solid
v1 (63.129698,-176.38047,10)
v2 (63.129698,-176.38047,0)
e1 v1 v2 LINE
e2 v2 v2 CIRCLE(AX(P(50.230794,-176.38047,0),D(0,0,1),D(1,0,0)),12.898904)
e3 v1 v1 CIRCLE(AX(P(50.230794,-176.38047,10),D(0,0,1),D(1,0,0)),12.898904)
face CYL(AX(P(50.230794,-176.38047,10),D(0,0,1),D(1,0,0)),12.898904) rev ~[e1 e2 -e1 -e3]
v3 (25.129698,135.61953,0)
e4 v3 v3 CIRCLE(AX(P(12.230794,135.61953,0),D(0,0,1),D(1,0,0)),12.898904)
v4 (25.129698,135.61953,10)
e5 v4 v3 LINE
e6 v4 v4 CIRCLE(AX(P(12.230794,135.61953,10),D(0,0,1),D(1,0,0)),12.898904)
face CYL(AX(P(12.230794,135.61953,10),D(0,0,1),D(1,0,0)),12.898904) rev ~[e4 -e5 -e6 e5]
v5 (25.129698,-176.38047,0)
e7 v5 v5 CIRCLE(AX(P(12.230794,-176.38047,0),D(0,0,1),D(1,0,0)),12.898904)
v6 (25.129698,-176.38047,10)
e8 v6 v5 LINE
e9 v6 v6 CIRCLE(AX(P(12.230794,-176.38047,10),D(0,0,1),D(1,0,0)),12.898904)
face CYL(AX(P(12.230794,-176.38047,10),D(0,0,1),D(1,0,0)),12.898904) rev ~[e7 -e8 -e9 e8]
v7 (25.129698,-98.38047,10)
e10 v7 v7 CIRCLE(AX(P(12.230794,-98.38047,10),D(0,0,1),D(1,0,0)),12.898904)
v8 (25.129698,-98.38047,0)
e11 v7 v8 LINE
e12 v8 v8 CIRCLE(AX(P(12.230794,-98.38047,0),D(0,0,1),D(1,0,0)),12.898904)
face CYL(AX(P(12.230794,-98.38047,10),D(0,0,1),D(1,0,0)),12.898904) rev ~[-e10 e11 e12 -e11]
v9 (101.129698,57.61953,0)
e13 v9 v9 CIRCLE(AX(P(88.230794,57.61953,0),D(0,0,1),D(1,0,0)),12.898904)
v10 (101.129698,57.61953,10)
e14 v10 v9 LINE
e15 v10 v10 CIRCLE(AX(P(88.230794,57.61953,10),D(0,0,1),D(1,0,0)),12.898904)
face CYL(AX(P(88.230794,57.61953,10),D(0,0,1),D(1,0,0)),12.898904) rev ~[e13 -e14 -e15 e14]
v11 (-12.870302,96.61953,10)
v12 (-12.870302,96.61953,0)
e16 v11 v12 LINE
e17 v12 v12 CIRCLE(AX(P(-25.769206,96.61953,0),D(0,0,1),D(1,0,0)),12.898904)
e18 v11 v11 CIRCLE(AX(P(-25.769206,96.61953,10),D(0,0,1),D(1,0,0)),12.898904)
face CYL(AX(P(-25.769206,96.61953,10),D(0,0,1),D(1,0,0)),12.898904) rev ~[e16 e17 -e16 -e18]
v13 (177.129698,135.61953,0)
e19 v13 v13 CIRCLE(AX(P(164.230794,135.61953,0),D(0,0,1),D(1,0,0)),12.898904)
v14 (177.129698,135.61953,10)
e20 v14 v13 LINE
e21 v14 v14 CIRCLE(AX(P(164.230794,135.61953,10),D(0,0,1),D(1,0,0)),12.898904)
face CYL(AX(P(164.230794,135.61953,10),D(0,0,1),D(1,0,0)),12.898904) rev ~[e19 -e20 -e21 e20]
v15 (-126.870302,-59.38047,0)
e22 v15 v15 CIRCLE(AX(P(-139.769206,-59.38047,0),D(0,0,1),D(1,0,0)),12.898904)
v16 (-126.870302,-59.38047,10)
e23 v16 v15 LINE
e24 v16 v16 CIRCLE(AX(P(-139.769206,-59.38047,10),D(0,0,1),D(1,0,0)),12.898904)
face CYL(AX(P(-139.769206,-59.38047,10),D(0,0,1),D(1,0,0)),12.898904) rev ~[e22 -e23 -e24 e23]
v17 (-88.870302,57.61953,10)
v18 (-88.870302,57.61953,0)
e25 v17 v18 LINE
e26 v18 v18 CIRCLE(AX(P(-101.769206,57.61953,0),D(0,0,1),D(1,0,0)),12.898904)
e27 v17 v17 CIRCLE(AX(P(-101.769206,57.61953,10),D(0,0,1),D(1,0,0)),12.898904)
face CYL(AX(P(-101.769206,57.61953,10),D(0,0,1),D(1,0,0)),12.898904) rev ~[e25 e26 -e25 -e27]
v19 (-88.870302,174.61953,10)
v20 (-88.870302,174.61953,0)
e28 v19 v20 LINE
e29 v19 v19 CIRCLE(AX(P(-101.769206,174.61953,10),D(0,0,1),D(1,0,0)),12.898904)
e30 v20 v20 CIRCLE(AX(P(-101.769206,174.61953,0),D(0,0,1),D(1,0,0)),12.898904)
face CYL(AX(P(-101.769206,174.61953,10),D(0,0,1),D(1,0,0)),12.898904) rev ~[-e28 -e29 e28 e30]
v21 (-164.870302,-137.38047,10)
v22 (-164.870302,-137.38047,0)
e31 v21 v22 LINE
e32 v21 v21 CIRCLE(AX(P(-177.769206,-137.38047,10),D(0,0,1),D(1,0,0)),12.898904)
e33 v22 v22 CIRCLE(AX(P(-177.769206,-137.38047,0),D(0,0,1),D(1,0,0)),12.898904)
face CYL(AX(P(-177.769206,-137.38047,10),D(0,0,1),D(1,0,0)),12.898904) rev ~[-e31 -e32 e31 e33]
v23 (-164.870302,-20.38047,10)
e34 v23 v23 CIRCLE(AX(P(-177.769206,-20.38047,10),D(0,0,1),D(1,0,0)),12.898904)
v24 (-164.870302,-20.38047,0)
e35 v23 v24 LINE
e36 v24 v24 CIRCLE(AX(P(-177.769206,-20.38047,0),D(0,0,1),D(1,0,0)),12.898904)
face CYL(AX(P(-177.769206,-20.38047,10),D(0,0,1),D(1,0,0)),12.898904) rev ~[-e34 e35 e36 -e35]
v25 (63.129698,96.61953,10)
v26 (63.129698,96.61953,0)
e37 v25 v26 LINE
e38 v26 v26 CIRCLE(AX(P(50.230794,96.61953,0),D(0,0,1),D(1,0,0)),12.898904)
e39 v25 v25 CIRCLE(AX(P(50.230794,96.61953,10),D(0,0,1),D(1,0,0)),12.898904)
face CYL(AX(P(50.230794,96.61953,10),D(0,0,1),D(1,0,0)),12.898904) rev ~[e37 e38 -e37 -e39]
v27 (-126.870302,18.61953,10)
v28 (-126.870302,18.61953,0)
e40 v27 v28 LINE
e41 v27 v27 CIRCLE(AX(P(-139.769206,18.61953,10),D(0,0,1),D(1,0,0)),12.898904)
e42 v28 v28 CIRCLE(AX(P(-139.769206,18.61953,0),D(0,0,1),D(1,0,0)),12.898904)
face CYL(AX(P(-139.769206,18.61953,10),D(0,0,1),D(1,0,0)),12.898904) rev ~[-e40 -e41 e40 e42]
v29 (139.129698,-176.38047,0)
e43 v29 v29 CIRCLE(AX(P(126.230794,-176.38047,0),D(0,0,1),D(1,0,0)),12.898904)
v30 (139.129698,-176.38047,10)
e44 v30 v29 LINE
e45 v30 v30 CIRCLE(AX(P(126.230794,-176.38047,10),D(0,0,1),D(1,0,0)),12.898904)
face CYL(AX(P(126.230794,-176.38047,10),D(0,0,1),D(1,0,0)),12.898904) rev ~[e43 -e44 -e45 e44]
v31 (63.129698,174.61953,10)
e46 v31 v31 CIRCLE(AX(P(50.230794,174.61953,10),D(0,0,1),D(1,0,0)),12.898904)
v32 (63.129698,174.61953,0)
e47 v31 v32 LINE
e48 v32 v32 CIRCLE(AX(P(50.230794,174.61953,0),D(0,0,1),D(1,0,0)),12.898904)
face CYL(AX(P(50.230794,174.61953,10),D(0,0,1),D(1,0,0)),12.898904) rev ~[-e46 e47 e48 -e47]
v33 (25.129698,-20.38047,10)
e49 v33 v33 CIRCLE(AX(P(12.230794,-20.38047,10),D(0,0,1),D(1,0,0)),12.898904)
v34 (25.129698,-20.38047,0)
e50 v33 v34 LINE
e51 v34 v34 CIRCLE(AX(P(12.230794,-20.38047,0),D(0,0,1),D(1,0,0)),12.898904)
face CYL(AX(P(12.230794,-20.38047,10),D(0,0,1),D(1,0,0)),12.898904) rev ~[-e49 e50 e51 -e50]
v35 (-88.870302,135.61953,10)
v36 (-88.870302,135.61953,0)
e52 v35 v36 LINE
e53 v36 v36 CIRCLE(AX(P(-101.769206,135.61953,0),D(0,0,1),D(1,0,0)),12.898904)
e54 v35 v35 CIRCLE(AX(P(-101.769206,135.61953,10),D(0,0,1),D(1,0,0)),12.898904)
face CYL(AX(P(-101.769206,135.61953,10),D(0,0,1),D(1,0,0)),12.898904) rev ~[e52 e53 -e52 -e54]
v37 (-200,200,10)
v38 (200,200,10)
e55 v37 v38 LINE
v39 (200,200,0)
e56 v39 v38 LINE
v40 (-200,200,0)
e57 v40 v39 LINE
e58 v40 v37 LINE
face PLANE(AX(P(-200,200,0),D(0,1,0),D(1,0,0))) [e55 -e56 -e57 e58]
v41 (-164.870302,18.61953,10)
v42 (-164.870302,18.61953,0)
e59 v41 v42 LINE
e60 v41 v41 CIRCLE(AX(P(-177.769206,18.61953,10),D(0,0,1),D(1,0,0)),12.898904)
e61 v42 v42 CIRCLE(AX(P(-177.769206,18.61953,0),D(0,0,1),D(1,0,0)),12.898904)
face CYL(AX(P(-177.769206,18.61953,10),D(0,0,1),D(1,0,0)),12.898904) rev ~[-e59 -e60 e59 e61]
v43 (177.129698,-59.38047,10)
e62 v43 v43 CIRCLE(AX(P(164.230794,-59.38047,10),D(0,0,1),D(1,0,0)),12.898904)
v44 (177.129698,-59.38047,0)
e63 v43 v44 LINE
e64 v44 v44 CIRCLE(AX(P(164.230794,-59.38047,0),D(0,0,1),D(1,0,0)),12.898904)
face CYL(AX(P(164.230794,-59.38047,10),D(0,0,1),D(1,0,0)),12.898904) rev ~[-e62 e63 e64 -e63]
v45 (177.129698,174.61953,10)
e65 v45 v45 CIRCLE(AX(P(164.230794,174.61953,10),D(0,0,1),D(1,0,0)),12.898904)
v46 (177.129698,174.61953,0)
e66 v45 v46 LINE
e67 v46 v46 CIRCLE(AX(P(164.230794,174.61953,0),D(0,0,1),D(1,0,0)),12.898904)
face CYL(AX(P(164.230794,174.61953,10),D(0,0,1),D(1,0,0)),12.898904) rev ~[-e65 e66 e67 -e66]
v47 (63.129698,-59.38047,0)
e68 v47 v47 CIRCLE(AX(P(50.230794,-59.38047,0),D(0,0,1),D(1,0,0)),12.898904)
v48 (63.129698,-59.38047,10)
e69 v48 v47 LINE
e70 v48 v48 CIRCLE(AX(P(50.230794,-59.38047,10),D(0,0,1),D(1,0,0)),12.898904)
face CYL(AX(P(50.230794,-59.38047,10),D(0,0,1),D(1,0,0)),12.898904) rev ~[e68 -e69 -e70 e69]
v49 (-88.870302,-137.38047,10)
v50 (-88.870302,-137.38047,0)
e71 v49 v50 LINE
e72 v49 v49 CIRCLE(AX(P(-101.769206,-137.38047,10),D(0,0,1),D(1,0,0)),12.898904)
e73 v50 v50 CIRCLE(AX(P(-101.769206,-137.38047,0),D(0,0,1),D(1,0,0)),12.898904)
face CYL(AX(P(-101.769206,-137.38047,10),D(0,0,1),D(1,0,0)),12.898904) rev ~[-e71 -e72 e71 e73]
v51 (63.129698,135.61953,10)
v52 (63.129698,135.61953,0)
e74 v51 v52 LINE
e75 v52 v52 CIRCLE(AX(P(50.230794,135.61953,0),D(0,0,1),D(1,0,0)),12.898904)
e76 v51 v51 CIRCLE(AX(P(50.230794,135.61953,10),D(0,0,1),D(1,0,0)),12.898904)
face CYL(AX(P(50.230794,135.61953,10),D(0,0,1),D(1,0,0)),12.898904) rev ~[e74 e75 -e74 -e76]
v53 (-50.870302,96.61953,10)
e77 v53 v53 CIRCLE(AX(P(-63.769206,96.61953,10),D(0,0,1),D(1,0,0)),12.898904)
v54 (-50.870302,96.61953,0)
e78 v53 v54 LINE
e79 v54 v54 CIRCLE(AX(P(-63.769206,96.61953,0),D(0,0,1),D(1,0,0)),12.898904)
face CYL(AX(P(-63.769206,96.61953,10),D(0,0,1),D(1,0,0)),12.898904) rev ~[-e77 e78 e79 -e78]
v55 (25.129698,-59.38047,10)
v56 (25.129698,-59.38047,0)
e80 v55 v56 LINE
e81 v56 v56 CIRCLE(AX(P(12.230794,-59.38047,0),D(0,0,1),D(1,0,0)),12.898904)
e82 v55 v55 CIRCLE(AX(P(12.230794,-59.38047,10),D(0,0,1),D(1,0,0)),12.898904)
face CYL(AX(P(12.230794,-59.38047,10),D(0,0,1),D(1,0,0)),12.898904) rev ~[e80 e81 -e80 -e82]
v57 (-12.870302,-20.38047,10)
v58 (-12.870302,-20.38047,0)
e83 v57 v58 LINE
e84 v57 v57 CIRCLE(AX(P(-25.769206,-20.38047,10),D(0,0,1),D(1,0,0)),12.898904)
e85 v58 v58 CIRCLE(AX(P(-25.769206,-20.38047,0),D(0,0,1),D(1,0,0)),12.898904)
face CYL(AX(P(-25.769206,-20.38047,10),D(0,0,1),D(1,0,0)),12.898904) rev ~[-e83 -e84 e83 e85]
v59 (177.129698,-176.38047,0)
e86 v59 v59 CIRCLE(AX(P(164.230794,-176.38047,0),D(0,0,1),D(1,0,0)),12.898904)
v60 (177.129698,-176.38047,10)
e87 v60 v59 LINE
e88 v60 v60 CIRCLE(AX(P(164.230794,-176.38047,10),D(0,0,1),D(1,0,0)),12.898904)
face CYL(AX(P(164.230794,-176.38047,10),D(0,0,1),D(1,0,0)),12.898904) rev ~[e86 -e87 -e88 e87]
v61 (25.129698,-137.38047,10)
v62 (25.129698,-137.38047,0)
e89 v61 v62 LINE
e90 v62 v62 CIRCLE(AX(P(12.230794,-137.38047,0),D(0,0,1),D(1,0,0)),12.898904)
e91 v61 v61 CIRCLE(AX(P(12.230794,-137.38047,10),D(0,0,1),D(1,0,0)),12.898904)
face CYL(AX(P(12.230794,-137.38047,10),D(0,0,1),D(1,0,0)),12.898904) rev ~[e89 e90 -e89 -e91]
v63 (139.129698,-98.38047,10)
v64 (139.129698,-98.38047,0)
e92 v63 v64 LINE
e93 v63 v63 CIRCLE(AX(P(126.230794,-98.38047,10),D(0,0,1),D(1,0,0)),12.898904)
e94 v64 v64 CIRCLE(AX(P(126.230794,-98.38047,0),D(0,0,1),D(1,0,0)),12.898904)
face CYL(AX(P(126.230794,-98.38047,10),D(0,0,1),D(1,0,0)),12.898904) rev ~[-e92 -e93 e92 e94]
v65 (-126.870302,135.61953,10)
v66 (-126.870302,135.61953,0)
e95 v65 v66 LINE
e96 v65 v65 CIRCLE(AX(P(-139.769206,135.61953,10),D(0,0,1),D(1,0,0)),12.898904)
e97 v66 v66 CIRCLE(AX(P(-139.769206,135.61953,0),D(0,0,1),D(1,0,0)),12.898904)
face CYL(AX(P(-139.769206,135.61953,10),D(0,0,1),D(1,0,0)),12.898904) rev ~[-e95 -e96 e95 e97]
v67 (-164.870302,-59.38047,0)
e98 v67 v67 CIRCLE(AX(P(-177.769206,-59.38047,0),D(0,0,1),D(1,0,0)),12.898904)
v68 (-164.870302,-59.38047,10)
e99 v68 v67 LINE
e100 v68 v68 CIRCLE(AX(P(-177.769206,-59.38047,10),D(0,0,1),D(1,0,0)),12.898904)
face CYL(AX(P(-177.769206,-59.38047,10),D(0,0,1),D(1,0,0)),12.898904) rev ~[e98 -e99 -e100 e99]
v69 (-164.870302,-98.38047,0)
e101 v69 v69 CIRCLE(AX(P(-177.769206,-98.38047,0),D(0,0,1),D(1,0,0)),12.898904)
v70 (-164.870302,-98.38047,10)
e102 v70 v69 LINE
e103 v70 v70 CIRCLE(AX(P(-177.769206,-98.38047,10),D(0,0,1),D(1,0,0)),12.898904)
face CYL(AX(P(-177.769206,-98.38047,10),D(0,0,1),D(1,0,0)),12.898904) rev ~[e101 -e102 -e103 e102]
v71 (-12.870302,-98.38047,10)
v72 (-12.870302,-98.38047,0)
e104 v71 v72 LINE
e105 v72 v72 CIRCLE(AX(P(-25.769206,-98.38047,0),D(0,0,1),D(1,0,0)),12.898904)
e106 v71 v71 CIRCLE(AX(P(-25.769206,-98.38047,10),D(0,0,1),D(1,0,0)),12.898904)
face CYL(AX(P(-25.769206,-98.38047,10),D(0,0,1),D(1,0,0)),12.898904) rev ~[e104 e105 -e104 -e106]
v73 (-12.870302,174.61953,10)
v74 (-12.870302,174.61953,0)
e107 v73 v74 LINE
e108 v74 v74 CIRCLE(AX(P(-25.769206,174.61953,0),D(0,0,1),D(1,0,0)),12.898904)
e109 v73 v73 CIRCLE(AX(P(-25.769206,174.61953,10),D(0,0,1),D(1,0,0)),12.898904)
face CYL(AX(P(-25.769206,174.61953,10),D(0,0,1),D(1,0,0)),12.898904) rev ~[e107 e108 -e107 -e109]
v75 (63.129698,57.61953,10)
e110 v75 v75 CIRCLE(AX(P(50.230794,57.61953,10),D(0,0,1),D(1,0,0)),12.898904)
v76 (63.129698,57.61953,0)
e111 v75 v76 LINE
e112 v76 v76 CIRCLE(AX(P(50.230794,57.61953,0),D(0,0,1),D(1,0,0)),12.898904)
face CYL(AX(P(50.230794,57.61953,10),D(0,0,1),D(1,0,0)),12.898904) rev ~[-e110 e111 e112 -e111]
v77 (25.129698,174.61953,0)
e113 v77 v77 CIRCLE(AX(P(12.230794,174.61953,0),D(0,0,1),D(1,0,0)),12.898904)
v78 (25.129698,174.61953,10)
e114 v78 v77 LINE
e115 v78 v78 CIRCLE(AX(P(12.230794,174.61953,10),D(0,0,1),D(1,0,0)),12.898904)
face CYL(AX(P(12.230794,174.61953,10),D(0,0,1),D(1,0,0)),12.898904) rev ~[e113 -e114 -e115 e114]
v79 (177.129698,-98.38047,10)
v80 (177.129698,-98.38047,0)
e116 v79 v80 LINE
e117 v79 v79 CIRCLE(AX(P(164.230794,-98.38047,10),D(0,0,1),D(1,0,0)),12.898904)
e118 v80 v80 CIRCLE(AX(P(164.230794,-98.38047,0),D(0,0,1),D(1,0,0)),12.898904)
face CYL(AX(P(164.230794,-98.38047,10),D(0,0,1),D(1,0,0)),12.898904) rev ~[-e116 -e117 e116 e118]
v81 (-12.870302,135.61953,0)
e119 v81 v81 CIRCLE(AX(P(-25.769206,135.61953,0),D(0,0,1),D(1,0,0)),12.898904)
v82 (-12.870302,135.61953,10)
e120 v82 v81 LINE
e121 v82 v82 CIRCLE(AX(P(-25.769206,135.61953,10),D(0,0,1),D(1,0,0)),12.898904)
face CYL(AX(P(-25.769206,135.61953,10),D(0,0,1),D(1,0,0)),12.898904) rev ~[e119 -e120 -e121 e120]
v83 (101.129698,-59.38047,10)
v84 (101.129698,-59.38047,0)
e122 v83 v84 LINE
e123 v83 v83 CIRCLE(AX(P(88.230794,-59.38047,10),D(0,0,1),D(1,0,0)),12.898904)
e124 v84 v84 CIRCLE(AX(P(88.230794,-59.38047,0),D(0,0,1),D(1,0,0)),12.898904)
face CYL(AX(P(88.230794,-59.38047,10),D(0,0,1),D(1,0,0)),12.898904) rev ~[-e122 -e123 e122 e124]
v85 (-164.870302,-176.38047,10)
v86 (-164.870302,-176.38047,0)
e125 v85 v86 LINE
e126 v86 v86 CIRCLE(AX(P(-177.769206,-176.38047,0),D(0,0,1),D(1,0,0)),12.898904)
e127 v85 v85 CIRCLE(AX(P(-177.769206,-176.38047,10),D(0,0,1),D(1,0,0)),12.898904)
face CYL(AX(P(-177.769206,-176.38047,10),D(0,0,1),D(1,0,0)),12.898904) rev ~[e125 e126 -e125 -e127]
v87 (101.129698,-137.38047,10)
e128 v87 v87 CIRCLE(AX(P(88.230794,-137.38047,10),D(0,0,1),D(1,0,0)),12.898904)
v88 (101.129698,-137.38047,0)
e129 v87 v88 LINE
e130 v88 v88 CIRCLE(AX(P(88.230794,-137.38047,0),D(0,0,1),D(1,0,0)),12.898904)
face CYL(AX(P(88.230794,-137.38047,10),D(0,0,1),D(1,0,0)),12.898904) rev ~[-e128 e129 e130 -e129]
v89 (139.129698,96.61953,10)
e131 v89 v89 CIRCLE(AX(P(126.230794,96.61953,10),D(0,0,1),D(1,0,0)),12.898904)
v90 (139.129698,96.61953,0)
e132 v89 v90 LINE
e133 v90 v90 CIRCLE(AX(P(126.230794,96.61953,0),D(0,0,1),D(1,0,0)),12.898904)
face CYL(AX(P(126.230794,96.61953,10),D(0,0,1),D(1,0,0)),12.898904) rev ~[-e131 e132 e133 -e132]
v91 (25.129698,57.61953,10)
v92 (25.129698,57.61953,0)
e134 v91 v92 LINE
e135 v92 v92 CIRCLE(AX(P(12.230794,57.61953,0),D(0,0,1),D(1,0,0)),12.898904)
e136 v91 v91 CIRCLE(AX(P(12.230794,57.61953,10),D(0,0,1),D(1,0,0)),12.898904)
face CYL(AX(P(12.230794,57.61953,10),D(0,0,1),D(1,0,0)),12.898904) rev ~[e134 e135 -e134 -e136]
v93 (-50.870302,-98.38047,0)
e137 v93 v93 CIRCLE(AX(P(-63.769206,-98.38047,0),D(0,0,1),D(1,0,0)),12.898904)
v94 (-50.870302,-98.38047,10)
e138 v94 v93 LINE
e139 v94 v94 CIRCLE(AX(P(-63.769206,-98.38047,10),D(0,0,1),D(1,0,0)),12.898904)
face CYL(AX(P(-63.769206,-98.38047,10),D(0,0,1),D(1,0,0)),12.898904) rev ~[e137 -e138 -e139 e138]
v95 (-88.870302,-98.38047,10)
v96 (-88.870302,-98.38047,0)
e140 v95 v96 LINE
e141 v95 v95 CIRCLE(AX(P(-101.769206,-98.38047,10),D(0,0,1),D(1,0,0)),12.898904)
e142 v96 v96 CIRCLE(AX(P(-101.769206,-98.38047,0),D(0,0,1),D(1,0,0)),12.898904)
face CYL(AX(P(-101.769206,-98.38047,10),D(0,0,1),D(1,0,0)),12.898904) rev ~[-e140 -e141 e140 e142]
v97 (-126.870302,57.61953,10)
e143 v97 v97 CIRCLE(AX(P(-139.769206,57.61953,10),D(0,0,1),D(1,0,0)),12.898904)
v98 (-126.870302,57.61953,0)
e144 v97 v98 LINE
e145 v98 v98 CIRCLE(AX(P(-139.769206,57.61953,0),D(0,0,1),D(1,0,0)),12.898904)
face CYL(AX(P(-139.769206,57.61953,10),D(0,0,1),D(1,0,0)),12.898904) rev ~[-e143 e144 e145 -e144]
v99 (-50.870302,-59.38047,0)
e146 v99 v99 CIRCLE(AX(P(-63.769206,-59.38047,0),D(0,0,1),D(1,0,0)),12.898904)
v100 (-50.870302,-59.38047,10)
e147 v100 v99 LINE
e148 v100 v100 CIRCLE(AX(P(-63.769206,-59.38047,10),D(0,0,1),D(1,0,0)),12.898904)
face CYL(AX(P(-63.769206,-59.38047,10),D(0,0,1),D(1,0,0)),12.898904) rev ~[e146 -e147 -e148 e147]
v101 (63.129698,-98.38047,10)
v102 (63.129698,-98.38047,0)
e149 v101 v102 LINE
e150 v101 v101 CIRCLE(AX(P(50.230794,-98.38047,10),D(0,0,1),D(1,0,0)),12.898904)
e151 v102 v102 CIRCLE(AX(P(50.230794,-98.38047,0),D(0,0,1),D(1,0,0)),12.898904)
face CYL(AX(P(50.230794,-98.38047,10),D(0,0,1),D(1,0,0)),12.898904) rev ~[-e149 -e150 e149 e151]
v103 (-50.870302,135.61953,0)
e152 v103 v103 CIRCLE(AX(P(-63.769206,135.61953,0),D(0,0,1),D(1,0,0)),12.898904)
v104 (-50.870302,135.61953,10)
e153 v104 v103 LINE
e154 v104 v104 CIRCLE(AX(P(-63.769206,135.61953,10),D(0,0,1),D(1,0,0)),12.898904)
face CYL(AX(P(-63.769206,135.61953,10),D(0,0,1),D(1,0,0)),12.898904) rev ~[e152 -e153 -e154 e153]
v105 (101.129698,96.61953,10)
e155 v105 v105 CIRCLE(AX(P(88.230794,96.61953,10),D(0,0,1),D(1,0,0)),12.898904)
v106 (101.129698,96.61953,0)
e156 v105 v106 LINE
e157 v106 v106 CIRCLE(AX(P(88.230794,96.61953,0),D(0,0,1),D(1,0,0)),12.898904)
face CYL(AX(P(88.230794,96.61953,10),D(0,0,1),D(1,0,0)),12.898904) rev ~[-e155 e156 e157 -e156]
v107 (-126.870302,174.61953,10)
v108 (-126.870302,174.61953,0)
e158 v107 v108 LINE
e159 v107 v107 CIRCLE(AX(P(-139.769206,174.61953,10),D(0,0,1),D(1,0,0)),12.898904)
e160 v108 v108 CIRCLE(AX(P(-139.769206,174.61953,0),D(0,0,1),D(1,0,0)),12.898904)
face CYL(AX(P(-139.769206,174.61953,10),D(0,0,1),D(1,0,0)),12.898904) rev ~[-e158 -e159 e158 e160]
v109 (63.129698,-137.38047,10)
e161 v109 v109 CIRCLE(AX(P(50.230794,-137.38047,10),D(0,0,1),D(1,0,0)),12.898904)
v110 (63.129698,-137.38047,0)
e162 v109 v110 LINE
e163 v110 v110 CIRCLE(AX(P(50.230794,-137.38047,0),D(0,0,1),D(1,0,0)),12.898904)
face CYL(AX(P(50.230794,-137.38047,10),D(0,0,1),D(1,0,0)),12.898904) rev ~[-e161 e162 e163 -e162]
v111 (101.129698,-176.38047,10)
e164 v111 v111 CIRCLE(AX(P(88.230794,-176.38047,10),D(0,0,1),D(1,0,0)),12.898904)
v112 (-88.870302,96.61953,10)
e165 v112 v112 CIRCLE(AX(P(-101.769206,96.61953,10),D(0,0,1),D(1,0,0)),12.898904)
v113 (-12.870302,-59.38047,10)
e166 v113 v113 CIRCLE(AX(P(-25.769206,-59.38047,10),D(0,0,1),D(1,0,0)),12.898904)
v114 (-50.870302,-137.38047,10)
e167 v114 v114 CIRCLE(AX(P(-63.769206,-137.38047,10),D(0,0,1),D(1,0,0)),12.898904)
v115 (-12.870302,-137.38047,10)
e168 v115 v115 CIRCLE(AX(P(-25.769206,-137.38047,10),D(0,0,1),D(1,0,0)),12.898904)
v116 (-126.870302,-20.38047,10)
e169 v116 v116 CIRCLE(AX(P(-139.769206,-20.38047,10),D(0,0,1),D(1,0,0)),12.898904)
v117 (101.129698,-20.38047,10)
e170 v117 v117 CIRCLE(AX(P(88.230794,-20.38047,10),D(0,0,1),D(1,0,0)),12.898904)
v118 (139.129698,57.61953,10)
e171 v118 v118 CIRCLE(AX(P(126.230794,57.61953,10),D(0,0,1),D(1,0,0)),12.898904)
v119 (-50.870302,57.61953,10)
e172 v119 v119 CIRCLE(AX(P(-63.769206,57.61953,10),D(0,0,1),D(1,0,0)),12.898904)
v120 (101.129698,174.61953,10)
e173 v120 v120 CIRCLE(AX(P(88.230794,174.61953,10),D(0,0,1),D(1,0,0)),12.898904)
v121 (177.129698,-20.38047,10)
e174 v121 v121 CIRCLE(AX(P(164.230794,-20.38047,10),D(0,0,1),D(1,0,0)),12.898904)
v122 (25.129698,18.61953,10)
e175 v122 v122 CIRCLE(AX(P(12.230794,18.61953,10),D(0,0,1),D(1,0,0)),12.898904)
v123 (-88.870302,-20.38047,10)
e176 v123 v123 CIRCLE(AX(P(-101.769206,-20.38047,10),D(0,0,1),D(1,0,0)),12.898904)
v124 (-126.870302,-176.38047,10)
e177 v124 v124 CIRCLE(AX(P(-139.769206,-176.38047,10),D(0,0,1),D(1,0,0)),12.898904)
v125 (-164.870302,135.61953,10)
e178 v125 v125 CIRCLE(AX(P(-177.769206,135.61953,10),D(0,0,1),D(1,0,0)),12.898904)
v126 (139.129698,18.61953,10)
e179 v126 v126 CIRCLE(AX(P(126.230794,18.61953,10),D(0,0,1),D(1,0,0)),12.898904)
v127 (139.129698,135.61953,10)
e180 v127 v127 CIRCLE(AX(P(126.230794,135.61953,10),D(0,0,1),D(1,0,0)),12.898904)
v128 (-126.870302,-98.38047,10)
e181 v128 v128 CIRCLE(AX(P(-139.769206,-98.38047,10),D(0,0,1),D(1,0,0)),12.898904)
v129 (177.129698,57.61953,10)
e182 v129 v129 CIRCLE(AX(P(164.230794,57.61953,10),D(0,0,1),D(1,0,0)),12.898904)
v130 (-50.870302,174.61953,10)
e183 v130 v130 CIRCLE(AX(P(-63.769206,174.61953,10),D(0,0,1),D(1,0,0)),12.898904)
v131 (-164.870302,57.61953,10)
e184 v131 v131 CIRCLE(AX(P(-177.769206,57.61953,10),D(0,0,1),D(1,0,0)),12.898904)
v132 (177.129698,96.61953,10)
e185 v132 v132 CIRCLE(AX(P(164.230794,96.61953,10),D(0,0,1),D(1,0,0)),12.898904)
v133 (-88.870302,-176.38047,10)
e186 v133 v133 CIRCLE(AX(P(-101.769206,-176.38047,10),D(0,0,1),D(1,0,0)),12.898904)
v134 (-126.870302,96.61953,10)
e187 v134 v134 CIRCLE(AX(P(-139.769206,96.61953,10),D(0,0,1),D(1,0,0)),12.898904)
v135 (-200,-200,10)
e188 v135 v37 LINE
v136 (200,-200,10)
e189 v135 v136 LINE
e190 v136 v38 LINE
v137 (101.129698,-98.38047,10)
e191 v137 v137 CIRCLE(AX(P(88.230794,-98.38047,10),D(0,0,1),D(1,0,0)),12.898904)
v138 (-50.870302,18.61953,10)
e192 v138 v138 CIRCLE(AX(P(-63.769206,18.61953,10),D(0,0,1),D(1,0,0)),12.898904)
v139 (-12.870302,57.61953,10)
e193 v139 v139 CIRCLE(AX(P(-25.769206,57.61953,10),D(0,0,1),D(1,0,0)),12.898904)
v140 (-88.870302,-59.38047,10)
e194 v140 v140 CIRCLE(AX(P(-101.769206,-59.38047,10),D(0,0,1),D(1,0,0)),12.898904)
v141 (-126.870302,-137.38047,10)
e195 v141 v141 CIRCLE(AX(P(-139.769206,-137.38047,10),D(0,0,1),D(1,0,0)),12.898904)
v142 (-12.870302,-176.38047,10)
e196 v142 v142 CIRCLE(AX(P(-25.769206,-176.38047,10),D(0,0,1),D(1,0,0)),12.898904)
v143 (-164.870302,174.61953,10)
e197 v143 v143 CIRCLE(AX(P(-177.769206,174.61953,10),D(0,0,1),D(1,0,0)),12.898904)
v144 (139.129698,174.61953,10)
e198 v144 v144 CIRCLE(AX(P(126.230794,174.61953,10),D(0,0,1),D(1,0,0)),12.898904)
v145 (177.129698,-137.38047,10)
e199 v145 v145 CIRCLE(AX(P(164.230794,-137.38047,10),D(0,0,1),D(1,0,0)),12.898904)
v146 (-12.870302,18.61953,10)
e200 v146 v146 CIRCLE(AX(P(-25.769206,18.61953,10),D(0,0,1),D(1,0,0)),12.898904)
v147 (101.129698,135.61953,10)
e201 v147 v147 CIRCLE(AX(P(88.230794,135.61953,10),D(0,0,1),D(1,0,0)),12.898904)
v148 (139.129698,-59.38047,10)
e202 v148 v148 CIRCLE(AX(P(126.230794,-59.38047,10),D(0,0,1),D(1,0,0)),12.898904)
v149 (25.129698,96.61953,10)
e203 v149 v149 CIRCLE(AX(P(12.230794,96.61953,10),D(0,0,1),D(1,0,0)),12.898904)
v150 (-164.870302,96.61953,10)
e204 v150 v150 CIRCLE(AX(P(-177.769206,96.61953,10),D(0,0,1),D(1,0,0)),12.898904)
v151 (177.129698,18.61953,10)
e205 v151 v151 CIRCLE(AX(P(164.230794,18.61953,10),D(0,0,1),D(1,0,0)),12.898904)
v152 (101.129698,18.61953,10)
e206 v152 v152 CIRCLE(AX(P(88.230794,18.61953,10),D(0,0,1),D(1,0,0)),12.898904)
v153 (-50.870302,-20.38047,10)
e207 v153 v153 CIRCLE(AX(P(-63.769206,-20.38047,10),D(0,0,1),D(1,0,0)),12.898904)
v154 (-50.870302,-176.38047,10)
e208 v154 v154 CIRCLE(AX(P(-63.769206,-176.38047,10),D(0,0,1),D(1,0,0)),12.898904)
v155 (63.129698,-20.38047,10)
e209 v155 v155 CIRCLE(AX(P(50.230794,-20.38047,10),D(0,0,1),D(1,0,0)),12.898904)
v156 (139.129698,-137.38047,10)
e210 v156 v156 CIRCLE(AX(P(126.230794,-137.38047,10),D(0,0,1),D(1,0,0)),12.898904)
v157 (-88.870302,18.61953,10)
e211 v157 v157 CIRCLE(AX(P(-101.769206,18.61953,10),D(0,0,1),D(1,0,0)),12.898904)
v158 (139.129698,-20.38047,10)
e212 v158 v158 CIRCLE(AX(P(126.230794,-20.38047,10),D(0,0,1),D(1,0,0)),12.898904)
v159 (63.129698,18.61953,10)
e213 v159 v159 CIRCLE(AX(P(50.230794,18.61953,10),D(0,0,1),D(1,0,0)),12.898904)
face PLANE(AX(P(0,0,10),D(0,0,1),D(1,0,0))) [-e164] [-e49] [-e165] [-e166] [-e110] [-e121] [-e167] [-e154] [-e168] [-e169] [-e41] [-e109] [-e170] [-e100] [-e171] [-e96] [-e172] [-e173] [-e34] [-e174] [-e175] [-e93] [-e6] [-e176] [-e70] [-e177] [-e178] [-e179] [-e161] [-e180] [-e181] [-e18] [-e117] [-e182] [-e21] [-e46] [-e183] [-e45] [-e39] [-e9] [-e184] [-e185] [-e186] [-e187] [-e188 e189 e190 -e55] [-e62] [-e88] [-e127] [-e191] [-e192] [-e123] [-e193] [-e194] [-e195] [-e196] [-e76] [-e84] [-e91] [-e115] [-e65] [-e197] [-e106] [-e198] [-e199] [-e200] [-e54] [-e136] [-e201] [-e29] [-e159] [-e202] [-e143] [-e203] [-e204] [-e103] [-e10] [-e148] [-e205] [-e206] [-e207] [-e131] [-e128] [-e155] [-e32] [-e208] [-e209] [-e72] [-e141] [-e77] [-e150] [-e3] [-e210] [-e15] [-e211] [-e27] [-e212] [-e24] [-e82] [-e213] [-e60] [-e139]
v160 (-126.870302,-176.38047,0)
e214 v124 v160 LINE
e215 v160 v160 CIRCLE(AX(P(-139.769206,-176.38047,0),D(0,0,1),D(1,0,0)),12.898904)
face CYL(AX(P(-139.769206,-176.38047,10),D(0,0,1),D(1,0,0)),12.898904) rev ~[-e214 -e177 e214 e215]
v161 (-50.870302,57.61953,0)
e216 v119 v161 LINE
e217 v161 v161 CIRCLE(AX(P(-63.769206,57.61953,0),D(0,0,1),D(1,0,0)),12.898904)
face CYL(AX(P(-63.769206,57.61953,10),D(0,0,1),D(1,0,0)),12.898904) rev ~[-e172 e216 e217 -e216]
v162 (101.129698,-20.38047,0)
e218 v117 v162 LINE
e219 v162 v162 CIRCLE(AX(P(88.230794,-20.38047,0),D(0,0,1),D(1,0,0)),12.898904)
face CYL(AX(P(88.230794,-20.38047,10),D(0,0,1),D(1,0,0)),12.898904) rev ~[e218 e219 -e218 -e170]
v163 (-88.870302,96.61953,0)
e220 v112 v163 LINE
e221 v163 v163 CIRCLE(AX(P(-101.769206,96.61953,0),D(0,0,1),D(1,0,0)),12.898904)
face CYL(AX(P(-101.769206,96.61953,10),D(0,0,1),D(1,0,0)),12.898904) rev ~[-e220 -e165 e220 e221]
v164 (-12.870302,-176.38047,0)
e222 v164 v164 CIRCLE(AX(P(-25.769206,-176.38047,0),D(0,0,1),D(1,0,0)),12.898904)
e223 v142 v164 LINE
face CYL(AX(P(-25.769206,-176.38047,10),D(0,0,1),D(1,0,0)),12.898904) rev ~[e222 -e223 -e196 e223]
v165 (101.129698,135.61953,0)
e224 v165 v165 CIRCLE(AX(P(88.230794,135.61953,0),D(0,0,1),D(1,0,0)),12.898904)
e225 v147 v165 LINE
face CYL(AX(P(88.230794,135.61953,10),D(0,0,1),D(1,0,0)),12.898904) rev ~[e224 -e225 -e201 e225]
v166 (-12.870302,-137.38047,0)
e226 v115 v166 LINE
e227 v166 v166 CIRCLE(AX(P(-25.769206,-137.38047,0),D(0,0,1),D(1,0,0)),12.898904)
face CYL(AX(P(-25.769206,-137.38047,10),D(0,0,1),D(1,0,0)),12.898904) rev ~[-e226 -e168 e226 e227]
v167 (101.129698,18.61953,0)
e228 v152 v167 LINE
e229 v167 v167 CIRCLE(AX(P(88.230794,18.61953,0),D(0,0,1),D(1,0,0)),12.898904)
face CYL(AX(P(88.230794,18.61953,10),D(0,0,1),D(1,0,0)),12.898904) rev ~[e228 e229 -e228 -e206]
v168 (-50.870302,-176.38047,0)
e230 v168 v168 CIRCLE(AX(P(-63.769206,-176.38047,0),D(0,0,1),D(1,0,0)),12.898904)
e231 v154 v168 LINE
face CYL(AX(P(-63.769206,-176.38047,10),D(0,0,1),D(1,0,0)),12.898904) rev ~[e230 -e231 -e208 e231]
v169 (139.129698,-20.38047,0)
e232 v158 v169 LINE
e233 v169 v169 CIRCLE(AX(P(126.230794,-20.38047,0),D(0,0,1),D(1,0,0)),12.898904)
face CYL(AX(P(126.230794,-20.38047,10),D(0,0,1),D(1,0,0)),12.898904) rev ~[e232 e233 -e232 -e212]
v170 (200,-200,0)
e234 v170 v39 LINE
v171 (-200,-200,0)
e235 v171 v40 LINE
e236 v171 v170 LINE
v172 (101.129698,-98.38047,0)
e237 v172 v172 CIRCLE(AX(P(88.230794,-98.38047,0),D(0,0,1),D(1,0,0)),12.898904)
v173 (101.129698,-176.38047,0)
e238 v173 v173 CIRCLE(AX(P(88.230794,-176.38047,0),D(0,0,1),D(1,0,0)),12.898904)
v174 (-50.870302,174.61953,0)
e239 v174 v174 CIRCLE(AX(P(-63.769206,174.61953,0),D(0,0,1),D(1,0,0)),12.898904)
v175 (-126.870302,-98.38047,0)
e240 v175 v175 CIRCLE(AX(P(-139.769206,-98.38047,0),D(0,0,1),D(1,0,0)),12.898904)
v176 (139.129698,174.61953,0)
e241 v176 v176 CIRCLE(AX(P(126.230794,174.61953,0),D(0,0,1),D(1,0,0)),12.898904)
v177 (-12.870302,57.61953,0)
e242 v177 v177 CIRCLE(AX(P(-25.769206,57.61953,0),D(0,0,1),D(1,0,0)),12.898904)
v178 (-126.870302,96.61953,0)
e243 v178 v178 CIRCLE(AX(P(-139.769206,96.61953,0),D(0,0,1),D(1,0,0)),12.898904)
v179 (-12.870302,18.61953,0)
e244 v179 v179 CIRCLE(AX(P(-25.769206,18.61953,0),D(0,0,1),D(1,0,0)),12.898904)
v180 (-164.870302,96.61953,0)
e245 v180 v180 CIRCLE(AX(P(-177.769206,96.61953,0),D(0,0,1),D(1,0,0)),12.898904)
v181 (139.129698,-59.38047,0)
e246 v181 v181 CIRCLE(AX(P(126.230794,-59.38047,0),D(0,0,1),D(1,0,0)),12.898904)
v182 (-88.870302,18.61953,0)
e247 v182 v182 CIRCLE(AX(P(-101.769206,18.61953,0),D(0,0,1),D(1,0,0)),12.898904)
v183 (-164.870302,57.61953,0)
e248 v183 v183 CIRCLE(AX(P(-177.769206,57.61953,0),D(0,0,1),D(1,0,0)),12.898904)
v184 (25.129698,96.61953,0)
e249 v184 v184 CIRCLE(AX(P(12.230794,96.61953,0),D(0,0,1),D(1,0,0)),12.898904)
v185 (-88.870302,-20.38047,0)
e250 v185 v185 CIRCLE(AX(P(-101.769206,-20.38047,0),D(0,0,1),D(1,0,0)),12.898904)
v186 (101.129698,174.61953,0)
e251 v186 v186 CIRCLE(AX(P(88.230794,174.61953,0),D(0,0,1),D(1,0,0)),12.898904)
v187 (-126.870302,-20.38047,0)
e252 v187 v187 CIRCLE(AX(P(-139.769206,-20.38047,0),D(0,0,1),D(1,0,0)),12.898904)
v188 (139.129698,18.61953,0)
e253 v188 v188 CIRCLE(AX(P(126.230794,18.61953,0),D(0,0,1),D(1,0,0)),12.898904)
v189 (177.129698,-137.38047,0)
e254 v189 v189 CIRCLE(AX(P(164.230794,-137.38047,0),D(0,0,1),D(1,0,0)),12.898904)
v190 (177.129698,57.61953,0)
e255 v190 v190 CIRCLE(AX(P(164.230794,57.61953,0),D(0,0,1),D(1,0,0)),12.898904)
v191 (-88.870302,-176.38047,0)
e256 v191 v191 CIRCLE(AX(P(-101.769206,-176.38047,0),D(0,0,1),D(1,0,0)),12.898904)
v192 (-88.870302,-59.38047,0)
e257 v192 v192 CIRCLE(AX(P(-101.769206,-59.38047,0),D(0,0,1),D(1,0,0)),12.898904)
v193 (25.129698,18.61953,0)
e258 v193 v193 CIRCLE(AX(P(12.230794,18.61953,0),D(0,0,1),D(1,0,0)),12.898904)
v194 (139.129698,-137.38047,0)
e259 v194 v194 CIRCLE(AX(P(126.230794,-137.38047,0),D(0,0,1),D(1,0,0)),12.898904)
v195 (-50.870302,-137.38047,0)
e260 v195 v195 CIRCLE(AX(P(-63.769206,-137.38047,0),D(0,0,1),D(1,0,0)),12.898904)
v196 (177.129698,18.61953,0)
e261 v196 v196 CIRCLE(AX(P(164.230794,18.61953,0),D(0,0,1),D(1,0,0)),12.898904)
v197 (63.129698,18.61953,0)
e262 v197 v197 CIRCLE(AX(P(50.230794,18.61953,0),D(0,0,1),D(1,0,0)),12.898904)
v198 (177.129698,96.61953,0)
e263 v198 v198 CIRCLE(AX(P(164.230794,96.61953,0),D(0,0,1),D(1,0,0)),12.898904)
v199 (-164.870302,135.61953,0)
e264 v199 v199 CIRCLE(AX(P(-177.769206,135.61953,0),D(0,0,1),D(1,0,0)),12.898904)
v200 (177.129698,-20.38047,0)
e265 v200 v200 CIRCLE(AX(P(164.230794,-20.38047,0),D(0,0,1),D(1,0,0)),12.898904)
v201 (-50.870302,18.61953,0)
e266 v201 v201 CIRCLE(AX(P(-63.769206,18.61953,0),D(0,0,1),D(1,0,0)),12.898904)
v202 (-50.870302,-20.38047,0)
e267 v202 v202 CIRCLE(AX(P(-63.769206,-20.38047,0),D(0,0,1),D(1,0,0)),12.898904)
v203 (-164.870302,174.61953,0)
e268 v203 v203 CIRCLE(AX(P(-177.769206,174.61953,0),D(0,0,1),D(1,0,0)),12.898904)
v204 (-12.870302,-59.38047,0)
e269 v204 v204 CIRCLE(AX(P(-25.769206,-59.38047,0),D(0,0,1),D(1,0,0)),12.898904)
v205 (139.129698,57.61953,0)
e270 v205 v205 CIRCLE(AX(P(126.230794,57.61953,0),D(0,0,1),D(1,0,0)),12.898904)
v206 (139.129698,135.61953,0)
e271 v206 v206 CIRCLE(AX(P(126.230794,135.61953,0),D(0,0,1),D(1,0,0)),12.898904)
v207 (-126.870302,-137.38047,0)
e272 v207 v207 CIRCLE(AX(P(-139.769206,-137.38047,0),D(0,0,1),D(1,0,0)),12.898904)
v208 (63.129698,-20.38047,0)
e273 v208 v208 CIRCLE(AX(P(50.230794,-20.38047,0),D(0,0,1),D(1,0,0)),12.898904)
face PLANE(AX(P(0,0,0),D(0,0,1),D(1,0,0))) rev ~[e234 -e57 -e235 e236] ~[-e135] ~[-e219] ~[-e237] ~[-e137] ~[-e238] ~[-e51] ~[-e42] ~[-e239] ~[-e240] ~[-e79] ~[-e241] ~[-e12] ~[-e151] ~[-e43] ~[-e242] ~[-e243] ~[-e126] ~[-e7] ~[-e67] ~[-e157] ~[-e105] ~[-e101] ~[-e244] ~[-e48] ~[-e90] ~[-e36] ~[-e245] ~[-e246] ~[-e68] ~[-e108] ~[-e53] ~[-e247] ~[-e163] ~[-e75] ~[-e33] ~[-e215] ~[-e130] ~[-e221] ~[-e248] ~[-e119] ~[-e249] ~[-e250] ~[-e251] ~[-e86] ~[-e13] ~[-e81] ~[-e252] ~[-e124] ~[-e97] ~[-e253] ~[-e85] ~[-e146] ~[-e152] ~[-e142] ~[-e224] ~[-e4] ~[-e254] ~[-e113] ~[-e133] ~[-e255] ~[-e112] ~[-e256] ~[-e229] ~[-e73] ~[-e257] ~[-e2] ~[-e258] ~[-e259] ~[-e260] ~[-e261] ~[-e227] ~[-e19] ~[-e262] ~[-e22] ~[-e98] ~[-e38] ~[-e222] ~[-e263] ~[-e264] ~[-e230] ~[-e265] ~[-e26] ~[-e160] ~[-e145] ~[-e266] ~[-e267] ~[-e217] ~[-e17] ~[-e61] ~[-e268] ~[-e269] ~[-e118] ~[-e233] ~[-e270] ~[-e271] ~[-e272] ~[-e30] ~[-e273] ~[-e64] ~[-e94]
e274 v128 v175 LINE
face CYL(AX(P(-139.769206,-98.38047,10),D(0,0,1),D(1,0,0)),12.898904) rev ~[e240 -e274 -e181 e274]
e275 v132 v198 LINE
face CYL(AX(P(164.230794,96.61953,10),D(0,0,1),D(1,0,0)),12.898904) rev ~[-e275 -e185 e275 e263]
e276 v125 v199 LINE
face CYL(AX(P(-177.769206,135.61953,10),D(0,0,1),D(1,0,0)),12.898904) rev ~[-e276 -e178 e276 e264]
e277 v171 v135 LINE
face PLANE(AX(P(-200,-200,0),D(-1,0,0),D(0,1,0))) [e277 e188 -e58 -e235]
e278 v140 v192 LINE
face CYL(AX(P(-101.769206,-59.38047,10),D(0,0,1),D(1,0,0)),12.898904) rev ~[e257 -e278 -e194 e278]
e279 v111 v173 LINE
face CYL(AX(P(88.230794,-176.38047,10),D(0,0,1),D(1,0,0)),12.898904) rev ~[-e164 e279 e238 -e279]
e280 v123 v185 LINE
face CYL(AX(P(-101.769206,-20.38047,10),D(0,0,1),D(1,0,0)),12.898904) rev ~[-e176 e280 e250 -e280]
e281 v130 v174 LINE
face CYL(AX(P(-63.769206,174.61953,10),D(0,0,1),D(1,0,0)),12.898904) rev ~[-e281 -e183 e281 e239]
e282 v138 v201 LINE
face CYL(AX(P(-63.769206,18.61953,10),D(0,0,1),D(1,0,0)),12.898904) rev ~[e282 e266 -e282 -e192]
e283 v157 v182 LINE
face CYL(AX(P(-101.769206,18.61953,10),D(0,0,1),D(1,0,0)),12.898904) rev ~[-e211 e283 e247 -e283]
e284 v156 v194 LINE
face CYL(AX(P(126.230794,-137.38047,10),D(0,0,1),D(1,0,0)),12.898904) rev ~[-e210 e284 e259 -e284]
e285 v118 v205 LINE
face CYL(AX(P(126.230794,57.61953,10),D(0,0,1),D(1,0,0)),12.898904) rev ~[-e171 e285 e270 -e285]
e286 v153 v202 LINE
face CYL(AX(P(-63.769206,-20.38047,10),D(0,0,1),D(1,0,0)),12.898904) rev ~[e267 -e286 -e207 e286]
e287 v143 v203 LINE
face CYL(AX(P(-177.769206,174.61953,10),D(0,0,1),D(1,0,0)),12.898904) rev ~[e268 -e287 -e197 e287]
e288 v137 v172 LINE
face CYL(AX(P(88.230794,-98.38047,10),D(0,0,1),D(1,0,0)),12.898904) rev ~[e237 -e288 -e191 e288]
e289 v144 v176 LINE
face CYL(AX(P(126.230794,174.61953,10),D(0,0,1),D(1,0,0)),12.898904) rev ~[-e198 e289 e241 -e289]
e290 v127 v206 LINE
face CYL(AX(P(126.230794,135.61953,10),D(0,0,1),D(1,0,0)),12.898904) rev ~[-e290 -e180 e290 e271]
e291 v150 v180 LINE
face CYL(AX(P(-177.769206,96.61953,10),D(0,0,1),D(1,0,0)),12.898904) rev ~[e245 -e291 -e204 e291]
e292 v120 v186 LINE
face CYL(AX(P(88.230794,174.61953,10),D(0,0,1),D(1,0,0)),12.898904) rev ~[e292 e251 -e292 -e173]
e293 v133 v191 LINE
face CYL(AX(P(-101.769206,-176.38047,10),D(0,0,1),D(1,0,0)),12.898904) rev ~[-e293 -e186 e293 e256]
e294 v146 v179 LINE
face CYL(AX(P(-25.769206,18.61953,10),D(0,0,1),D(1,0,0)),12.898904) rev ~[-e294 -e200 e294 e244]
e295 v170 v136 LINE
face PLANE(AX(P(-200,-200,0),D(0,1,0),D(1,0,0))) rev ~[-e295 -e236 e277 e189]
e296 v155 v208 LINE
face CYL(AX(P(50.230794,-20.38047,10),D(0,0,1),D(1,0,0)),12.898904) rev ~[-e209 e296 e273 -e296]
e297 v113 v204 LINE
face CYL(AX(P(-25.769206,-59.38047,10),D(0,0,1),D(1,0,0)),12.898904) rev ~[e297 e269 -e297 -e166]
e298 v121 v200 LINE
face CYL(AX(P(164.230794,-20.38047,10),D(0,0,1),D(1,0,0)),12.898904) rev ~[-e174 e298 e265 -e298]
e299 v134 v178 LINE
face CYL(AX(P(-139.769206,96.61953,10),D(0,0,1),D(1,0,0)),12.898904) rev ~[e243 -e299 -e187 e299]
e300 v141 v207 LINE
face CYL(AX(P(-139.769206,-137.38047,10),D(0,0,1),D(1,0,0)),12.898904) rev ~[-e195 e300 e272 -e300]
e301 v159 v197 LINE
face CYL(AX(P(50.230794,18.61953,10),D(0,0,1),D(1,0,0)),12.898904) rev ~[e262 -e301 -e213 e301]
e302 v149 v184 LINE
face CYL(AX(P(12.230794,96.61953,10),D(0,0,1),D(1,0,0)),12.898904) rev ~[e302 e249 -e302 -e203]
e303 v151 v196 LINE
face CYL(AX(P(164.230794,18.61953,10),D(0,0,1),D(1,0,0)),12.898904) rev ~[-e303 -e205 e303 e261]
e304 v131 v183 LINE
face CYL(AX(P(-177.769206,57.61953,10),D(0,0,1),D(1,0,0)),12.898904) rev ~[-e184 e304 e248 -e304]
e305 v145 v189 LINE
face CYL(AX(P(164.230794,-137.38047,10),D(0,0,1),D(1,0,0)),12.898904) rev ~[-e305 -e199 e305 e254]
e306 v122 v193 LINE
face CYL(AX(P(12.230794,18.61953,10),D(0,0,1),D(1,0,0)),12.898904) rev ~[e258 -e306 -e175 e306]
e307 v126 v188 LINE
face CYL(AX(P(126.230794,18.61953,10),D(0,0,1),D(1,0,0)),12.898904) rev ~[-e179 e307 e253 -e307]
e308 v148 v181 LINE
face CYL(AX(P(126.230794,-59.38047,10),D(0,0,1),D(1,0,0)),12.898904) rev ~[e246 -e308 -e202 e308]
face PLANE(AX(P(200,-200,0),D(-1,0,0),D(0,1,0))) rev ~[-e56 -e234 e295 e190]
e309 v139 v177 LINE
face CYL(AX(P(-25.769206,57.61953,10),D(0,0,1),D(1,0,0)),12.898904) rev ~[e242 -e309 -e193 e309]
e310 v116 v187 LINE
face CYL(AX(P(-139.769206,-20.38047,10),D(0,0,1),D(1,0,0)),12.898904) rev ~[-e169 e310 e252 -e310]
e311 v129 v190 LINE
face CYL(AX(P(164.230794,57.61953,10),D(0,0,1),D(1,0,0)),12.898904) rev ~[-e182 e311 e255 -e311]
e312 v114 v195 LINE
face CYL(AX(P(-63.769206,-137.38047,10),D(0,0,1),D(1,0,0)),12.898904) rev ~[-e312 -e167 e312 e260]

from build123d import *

# Parameters (mm, degrees)
F0_W     = 400
F0_H     = 400
F1_DEPTH = 10
F2_R     = 12.898904
F3_DEPTH = 13


with BuildPart() as f1:
    # F0 (on Top) → F1 (new body)
    with BuildSketch(Plane.XY):
        Rectangle(F0_W, F0_H)
    extrude(amount=F1_DEPTH)

    # F2 (on face) → F3 (cut)
    with BuildSketch(Plane.XY.offset(10)):
        with Locations((164.230794, -176.38047)):
            Circle(F2_R)
        with Locations((164.230794, -137.38047)):
            Circle(F2_R)
        with Locations((164.230794, -98.38047)):
            Circle(F2_R)
        with Locations((164.230794, -59.38047)):
            Circle(F2_R)
        with Locations((164.230794, -20.38047)):
            Circle(F2_R)
        with Locations((164.230794, 18.61953)):
            Circle(F2_R)
        with Locations((164.230794, 57.61953)):
            Circle(F2_R)
        with Locations((164.230794, 96.61953)):
            Circle(F2_R)
        with Locations((164.230794, 135.61953)):
            Circle(F2_R)
        with Locations((164.230794, 174.61953)):
            Circle(F2_R)
        with Locations((126.230794, -176.38047)):
            Circle(F2_R)
        with Locations((126.230794, -137.38047)):
            Circle(F2_R)
        with Locations((126.230794, -98.38047)):
            Circle(F2_R)
        with Locations((126.230794, -59.38047)):
            Circle(F2_R)
        with Locations((126.230794, -20.38047)):
            Circle(F2_R)
        with Locations((126.230794, 18.61953)):
            Circle(F2_R)
        with Locations((126.230794, 57.61953)):
            Circle(F2_R)
        with Locations((126.230794, 96.61953)):
            Circle(F2_R)
        with Locations((126.230794, 135.61953)):
            Circle(F2_R)
        with Locations((126.230794, 174.61953)):
            Circle(F2_R)
        with Locations((88.230794, -176.38047)):
            Circle(F2_R)
        with Locations((88.230794, -137.38047)):
            Circle(F2_R)
        with Locations((88.230794, -98.38047)):
            Circle(F2_R)
        with Locations((88.230794, -59.38047)):
            Circle(F2_R)
        with Locations((88.230794, -20.38047)):
            Circle(F2_R)
        with Locations((88.230794, 18.61953)):
            Circle(F2_R)
        with Locations((88.230794, 57.61953)):
            Circle(F2_R)
        with Locations((88.230794, 96.61953)):
            Circle(F2_R)
        with Locations((88.230794, 135.61953)):
            Circle(F2_R)
        with Locations((88.230794, 174.61953)):
            Circle(F2_R)
        with Locations((50.230794, -176.38047)):
            Circle(F2_R)
        with Locations((50.230794, -137.38047)):
            Circle(F2_R)
        with Locations((50.230794, -98.38047)):
            Circle(F2_R)
        with Locations((50.230794, -59.38047)):
            Circle(F2_R)
        with Locations((50.230794, -20.38047)):
            Circle(F2_R)
        with Locations((50.230794, 18.61953)):
            Circle(F2_R)
        with Locations((50.230794, 57.61953)):
            Circle(F2_R)
        with Locations((50.230794, 96.61953)):
            Circle(F2_R)
        with Locations((50.230794, 135.61953)):
            Circle(F2_R)
        with Locations((50.230794, 174.61953)):
            Circle(F2_R)
        with Locations((12.230794, -176.38047)):
            Circle(F2_R)
        with Locations((12.230794, -137.38047)):
            Circle(F2_R)
        with Locations((12.230794, -98.38047)):
            Circle(F2_R)
        with Locations((12.230794, -59.38047)):
            Circle(F2_R)
        with Locations((12.230794, -20.38047)):
            Circle(F2_R)
        with Locations((12.230794, 18.61953)):
            Circle(F2_R)
        with Locations((12.230794, 57.61953)):
            Circle(F2_R)
        with Locations((12.230794, 96.61953)):
            Circle(F2_R)
        with Locations((12.230794, 135.61953)):
            Circle(F2_R)
        with Locations((12.230794, 174.61953)):
            Circle(F2_R)
        with Locations((-25.769206, -176.38047)):
            Circle(F2_R)
        with Locations((-25.769206, -137.38047)):
            Circle(F2_R)
        with Locations((-25.769206, -98.38047)):
            Circle(F2_R)
        with Locations((-25.769206, -59.38047)):
            Circle(F2_R)
        with Locations((-25.769206, -20.38047)):
            Circle(F2_R)
        with Locations((-25.769206, 18.61953)):
            Circle(F2_R)
        with Locations((-25.769206, 57.61953)):
            Circle(F2_R)
        with Locations((-25.769206, 96.61953)):
            Circle(F2_R)
        with Locations((-25.769206, 135.61953)):
            Circle(F2_R)
        with Locations((-25.769206, 174.61953)):
            Circle(F2_R)
        with Locations((-63.769206, -176.38047)):
            Circle(F2_R)
        with Locations((-63.769206, -137.38047)):
            Circle(F2_R)
        with Locations((-63.769206, -98.38047)):
            Circle(F2_R)
        with Locations((-63.769206, -59.38047)):
            Circle(F2_R)
        with Locations((-63.769206, -20.38047)):
            Circle(F2_R)
        with Locations((-63.769206, 18.61953)):
            Circle(F2_R)
        with Locations((-63.769206, 57.61953)):
            Circle(F2_R)
        with Locations((-63.769206, 96.61953)):
            Circle(F2_R)
        with Locations((-63.769206, 135.61953)):
            Circle(F2_R)
        with Locations((-63.769206, 174.61953)):
            Circle(F2_R)
        with Locations((-101.769206, -176.38047)):
            Circle(F2_R)
        with Locations((-101.769206, -137.38047)):
            Circle(F2_R)
        with Locations((-101.769206, -98.38047)):
            Circle(F2_R)
        with Locations((-101.769206, -59.38047)):
            Circle(F2_R)
        with Locations((-101.769206, -20.38047)):
            Circle(F2_R)
        with Locations((-101.769206, 18.61953)):
            Circle(F2_R)
        with Locations((-101.769206, 57.61953)):
            Circle(F2_R)
        with Locations((-101.769206, 96.61953)):
            Circle(F2_R)
        with Locations((-101.769206, 135.61953)):
            Circle(F2_R)
        with Locations((-101.769206, 174.61953)):
            Circle(F2_R)
        with Locations((-139.769206, -176.38047)):
            Circle(F2_R)
        with Locations((-139.769206, -137.38047)):
            Circle(F2_R)
        with Locations((-139.769206, -98.38047)):
            Circle(F2_R)
        with Locations((-139.769206, -59.38047)):
            Circle(F2_R)
        with Locations((-139.769206, -20.38047)):
            Circle(F2_R)
        with Locations((-139.769206, 18.61953)):
            Circle(F2_R)
        with Locations((-139.769206, 57.61953)):
            Circle(F2_R)
        with Locations((-139.769206, 96.61953)):
            Circle(F2_R)
        with Locations((-139.769206, 135.61953)):
            Circle(F2_R)
        with Locations((-139.769206, 174.61953)):
            Circle(F2_R)
        with Locations((-177.769206, -176.38047)):
            Circle(F2_R)
        with Locations((-177.769206, -137.38047)):
            Circle(F2_R)
        with Locations((-177.769206, -98.38047)):
            Circle(F2_R)
        with Locations((-177.769206, -59.38047)):
            Circle(F2_R)
        with Locations((-177.769206, -20.38047)):
            Circle(F2_R)
        with Locations((-177.769206, 18.61953)):
            Circle(F2_R)
        with Locations((-177.769206, 57.61953)):
            Circle(F2_R)
        with Locations((-177.769206, 96.61953)):
            Circle(F2_R)
        with Locations((-177.769206, 135.61953)):
            Circle(F2_R)
        with Locations((-177.769206, 174.61953)):
            Circle(F2_R)
    extrude(amount=-F3_DEPTH, mode=Mode.SUBTRACT)


solid = f1.part
